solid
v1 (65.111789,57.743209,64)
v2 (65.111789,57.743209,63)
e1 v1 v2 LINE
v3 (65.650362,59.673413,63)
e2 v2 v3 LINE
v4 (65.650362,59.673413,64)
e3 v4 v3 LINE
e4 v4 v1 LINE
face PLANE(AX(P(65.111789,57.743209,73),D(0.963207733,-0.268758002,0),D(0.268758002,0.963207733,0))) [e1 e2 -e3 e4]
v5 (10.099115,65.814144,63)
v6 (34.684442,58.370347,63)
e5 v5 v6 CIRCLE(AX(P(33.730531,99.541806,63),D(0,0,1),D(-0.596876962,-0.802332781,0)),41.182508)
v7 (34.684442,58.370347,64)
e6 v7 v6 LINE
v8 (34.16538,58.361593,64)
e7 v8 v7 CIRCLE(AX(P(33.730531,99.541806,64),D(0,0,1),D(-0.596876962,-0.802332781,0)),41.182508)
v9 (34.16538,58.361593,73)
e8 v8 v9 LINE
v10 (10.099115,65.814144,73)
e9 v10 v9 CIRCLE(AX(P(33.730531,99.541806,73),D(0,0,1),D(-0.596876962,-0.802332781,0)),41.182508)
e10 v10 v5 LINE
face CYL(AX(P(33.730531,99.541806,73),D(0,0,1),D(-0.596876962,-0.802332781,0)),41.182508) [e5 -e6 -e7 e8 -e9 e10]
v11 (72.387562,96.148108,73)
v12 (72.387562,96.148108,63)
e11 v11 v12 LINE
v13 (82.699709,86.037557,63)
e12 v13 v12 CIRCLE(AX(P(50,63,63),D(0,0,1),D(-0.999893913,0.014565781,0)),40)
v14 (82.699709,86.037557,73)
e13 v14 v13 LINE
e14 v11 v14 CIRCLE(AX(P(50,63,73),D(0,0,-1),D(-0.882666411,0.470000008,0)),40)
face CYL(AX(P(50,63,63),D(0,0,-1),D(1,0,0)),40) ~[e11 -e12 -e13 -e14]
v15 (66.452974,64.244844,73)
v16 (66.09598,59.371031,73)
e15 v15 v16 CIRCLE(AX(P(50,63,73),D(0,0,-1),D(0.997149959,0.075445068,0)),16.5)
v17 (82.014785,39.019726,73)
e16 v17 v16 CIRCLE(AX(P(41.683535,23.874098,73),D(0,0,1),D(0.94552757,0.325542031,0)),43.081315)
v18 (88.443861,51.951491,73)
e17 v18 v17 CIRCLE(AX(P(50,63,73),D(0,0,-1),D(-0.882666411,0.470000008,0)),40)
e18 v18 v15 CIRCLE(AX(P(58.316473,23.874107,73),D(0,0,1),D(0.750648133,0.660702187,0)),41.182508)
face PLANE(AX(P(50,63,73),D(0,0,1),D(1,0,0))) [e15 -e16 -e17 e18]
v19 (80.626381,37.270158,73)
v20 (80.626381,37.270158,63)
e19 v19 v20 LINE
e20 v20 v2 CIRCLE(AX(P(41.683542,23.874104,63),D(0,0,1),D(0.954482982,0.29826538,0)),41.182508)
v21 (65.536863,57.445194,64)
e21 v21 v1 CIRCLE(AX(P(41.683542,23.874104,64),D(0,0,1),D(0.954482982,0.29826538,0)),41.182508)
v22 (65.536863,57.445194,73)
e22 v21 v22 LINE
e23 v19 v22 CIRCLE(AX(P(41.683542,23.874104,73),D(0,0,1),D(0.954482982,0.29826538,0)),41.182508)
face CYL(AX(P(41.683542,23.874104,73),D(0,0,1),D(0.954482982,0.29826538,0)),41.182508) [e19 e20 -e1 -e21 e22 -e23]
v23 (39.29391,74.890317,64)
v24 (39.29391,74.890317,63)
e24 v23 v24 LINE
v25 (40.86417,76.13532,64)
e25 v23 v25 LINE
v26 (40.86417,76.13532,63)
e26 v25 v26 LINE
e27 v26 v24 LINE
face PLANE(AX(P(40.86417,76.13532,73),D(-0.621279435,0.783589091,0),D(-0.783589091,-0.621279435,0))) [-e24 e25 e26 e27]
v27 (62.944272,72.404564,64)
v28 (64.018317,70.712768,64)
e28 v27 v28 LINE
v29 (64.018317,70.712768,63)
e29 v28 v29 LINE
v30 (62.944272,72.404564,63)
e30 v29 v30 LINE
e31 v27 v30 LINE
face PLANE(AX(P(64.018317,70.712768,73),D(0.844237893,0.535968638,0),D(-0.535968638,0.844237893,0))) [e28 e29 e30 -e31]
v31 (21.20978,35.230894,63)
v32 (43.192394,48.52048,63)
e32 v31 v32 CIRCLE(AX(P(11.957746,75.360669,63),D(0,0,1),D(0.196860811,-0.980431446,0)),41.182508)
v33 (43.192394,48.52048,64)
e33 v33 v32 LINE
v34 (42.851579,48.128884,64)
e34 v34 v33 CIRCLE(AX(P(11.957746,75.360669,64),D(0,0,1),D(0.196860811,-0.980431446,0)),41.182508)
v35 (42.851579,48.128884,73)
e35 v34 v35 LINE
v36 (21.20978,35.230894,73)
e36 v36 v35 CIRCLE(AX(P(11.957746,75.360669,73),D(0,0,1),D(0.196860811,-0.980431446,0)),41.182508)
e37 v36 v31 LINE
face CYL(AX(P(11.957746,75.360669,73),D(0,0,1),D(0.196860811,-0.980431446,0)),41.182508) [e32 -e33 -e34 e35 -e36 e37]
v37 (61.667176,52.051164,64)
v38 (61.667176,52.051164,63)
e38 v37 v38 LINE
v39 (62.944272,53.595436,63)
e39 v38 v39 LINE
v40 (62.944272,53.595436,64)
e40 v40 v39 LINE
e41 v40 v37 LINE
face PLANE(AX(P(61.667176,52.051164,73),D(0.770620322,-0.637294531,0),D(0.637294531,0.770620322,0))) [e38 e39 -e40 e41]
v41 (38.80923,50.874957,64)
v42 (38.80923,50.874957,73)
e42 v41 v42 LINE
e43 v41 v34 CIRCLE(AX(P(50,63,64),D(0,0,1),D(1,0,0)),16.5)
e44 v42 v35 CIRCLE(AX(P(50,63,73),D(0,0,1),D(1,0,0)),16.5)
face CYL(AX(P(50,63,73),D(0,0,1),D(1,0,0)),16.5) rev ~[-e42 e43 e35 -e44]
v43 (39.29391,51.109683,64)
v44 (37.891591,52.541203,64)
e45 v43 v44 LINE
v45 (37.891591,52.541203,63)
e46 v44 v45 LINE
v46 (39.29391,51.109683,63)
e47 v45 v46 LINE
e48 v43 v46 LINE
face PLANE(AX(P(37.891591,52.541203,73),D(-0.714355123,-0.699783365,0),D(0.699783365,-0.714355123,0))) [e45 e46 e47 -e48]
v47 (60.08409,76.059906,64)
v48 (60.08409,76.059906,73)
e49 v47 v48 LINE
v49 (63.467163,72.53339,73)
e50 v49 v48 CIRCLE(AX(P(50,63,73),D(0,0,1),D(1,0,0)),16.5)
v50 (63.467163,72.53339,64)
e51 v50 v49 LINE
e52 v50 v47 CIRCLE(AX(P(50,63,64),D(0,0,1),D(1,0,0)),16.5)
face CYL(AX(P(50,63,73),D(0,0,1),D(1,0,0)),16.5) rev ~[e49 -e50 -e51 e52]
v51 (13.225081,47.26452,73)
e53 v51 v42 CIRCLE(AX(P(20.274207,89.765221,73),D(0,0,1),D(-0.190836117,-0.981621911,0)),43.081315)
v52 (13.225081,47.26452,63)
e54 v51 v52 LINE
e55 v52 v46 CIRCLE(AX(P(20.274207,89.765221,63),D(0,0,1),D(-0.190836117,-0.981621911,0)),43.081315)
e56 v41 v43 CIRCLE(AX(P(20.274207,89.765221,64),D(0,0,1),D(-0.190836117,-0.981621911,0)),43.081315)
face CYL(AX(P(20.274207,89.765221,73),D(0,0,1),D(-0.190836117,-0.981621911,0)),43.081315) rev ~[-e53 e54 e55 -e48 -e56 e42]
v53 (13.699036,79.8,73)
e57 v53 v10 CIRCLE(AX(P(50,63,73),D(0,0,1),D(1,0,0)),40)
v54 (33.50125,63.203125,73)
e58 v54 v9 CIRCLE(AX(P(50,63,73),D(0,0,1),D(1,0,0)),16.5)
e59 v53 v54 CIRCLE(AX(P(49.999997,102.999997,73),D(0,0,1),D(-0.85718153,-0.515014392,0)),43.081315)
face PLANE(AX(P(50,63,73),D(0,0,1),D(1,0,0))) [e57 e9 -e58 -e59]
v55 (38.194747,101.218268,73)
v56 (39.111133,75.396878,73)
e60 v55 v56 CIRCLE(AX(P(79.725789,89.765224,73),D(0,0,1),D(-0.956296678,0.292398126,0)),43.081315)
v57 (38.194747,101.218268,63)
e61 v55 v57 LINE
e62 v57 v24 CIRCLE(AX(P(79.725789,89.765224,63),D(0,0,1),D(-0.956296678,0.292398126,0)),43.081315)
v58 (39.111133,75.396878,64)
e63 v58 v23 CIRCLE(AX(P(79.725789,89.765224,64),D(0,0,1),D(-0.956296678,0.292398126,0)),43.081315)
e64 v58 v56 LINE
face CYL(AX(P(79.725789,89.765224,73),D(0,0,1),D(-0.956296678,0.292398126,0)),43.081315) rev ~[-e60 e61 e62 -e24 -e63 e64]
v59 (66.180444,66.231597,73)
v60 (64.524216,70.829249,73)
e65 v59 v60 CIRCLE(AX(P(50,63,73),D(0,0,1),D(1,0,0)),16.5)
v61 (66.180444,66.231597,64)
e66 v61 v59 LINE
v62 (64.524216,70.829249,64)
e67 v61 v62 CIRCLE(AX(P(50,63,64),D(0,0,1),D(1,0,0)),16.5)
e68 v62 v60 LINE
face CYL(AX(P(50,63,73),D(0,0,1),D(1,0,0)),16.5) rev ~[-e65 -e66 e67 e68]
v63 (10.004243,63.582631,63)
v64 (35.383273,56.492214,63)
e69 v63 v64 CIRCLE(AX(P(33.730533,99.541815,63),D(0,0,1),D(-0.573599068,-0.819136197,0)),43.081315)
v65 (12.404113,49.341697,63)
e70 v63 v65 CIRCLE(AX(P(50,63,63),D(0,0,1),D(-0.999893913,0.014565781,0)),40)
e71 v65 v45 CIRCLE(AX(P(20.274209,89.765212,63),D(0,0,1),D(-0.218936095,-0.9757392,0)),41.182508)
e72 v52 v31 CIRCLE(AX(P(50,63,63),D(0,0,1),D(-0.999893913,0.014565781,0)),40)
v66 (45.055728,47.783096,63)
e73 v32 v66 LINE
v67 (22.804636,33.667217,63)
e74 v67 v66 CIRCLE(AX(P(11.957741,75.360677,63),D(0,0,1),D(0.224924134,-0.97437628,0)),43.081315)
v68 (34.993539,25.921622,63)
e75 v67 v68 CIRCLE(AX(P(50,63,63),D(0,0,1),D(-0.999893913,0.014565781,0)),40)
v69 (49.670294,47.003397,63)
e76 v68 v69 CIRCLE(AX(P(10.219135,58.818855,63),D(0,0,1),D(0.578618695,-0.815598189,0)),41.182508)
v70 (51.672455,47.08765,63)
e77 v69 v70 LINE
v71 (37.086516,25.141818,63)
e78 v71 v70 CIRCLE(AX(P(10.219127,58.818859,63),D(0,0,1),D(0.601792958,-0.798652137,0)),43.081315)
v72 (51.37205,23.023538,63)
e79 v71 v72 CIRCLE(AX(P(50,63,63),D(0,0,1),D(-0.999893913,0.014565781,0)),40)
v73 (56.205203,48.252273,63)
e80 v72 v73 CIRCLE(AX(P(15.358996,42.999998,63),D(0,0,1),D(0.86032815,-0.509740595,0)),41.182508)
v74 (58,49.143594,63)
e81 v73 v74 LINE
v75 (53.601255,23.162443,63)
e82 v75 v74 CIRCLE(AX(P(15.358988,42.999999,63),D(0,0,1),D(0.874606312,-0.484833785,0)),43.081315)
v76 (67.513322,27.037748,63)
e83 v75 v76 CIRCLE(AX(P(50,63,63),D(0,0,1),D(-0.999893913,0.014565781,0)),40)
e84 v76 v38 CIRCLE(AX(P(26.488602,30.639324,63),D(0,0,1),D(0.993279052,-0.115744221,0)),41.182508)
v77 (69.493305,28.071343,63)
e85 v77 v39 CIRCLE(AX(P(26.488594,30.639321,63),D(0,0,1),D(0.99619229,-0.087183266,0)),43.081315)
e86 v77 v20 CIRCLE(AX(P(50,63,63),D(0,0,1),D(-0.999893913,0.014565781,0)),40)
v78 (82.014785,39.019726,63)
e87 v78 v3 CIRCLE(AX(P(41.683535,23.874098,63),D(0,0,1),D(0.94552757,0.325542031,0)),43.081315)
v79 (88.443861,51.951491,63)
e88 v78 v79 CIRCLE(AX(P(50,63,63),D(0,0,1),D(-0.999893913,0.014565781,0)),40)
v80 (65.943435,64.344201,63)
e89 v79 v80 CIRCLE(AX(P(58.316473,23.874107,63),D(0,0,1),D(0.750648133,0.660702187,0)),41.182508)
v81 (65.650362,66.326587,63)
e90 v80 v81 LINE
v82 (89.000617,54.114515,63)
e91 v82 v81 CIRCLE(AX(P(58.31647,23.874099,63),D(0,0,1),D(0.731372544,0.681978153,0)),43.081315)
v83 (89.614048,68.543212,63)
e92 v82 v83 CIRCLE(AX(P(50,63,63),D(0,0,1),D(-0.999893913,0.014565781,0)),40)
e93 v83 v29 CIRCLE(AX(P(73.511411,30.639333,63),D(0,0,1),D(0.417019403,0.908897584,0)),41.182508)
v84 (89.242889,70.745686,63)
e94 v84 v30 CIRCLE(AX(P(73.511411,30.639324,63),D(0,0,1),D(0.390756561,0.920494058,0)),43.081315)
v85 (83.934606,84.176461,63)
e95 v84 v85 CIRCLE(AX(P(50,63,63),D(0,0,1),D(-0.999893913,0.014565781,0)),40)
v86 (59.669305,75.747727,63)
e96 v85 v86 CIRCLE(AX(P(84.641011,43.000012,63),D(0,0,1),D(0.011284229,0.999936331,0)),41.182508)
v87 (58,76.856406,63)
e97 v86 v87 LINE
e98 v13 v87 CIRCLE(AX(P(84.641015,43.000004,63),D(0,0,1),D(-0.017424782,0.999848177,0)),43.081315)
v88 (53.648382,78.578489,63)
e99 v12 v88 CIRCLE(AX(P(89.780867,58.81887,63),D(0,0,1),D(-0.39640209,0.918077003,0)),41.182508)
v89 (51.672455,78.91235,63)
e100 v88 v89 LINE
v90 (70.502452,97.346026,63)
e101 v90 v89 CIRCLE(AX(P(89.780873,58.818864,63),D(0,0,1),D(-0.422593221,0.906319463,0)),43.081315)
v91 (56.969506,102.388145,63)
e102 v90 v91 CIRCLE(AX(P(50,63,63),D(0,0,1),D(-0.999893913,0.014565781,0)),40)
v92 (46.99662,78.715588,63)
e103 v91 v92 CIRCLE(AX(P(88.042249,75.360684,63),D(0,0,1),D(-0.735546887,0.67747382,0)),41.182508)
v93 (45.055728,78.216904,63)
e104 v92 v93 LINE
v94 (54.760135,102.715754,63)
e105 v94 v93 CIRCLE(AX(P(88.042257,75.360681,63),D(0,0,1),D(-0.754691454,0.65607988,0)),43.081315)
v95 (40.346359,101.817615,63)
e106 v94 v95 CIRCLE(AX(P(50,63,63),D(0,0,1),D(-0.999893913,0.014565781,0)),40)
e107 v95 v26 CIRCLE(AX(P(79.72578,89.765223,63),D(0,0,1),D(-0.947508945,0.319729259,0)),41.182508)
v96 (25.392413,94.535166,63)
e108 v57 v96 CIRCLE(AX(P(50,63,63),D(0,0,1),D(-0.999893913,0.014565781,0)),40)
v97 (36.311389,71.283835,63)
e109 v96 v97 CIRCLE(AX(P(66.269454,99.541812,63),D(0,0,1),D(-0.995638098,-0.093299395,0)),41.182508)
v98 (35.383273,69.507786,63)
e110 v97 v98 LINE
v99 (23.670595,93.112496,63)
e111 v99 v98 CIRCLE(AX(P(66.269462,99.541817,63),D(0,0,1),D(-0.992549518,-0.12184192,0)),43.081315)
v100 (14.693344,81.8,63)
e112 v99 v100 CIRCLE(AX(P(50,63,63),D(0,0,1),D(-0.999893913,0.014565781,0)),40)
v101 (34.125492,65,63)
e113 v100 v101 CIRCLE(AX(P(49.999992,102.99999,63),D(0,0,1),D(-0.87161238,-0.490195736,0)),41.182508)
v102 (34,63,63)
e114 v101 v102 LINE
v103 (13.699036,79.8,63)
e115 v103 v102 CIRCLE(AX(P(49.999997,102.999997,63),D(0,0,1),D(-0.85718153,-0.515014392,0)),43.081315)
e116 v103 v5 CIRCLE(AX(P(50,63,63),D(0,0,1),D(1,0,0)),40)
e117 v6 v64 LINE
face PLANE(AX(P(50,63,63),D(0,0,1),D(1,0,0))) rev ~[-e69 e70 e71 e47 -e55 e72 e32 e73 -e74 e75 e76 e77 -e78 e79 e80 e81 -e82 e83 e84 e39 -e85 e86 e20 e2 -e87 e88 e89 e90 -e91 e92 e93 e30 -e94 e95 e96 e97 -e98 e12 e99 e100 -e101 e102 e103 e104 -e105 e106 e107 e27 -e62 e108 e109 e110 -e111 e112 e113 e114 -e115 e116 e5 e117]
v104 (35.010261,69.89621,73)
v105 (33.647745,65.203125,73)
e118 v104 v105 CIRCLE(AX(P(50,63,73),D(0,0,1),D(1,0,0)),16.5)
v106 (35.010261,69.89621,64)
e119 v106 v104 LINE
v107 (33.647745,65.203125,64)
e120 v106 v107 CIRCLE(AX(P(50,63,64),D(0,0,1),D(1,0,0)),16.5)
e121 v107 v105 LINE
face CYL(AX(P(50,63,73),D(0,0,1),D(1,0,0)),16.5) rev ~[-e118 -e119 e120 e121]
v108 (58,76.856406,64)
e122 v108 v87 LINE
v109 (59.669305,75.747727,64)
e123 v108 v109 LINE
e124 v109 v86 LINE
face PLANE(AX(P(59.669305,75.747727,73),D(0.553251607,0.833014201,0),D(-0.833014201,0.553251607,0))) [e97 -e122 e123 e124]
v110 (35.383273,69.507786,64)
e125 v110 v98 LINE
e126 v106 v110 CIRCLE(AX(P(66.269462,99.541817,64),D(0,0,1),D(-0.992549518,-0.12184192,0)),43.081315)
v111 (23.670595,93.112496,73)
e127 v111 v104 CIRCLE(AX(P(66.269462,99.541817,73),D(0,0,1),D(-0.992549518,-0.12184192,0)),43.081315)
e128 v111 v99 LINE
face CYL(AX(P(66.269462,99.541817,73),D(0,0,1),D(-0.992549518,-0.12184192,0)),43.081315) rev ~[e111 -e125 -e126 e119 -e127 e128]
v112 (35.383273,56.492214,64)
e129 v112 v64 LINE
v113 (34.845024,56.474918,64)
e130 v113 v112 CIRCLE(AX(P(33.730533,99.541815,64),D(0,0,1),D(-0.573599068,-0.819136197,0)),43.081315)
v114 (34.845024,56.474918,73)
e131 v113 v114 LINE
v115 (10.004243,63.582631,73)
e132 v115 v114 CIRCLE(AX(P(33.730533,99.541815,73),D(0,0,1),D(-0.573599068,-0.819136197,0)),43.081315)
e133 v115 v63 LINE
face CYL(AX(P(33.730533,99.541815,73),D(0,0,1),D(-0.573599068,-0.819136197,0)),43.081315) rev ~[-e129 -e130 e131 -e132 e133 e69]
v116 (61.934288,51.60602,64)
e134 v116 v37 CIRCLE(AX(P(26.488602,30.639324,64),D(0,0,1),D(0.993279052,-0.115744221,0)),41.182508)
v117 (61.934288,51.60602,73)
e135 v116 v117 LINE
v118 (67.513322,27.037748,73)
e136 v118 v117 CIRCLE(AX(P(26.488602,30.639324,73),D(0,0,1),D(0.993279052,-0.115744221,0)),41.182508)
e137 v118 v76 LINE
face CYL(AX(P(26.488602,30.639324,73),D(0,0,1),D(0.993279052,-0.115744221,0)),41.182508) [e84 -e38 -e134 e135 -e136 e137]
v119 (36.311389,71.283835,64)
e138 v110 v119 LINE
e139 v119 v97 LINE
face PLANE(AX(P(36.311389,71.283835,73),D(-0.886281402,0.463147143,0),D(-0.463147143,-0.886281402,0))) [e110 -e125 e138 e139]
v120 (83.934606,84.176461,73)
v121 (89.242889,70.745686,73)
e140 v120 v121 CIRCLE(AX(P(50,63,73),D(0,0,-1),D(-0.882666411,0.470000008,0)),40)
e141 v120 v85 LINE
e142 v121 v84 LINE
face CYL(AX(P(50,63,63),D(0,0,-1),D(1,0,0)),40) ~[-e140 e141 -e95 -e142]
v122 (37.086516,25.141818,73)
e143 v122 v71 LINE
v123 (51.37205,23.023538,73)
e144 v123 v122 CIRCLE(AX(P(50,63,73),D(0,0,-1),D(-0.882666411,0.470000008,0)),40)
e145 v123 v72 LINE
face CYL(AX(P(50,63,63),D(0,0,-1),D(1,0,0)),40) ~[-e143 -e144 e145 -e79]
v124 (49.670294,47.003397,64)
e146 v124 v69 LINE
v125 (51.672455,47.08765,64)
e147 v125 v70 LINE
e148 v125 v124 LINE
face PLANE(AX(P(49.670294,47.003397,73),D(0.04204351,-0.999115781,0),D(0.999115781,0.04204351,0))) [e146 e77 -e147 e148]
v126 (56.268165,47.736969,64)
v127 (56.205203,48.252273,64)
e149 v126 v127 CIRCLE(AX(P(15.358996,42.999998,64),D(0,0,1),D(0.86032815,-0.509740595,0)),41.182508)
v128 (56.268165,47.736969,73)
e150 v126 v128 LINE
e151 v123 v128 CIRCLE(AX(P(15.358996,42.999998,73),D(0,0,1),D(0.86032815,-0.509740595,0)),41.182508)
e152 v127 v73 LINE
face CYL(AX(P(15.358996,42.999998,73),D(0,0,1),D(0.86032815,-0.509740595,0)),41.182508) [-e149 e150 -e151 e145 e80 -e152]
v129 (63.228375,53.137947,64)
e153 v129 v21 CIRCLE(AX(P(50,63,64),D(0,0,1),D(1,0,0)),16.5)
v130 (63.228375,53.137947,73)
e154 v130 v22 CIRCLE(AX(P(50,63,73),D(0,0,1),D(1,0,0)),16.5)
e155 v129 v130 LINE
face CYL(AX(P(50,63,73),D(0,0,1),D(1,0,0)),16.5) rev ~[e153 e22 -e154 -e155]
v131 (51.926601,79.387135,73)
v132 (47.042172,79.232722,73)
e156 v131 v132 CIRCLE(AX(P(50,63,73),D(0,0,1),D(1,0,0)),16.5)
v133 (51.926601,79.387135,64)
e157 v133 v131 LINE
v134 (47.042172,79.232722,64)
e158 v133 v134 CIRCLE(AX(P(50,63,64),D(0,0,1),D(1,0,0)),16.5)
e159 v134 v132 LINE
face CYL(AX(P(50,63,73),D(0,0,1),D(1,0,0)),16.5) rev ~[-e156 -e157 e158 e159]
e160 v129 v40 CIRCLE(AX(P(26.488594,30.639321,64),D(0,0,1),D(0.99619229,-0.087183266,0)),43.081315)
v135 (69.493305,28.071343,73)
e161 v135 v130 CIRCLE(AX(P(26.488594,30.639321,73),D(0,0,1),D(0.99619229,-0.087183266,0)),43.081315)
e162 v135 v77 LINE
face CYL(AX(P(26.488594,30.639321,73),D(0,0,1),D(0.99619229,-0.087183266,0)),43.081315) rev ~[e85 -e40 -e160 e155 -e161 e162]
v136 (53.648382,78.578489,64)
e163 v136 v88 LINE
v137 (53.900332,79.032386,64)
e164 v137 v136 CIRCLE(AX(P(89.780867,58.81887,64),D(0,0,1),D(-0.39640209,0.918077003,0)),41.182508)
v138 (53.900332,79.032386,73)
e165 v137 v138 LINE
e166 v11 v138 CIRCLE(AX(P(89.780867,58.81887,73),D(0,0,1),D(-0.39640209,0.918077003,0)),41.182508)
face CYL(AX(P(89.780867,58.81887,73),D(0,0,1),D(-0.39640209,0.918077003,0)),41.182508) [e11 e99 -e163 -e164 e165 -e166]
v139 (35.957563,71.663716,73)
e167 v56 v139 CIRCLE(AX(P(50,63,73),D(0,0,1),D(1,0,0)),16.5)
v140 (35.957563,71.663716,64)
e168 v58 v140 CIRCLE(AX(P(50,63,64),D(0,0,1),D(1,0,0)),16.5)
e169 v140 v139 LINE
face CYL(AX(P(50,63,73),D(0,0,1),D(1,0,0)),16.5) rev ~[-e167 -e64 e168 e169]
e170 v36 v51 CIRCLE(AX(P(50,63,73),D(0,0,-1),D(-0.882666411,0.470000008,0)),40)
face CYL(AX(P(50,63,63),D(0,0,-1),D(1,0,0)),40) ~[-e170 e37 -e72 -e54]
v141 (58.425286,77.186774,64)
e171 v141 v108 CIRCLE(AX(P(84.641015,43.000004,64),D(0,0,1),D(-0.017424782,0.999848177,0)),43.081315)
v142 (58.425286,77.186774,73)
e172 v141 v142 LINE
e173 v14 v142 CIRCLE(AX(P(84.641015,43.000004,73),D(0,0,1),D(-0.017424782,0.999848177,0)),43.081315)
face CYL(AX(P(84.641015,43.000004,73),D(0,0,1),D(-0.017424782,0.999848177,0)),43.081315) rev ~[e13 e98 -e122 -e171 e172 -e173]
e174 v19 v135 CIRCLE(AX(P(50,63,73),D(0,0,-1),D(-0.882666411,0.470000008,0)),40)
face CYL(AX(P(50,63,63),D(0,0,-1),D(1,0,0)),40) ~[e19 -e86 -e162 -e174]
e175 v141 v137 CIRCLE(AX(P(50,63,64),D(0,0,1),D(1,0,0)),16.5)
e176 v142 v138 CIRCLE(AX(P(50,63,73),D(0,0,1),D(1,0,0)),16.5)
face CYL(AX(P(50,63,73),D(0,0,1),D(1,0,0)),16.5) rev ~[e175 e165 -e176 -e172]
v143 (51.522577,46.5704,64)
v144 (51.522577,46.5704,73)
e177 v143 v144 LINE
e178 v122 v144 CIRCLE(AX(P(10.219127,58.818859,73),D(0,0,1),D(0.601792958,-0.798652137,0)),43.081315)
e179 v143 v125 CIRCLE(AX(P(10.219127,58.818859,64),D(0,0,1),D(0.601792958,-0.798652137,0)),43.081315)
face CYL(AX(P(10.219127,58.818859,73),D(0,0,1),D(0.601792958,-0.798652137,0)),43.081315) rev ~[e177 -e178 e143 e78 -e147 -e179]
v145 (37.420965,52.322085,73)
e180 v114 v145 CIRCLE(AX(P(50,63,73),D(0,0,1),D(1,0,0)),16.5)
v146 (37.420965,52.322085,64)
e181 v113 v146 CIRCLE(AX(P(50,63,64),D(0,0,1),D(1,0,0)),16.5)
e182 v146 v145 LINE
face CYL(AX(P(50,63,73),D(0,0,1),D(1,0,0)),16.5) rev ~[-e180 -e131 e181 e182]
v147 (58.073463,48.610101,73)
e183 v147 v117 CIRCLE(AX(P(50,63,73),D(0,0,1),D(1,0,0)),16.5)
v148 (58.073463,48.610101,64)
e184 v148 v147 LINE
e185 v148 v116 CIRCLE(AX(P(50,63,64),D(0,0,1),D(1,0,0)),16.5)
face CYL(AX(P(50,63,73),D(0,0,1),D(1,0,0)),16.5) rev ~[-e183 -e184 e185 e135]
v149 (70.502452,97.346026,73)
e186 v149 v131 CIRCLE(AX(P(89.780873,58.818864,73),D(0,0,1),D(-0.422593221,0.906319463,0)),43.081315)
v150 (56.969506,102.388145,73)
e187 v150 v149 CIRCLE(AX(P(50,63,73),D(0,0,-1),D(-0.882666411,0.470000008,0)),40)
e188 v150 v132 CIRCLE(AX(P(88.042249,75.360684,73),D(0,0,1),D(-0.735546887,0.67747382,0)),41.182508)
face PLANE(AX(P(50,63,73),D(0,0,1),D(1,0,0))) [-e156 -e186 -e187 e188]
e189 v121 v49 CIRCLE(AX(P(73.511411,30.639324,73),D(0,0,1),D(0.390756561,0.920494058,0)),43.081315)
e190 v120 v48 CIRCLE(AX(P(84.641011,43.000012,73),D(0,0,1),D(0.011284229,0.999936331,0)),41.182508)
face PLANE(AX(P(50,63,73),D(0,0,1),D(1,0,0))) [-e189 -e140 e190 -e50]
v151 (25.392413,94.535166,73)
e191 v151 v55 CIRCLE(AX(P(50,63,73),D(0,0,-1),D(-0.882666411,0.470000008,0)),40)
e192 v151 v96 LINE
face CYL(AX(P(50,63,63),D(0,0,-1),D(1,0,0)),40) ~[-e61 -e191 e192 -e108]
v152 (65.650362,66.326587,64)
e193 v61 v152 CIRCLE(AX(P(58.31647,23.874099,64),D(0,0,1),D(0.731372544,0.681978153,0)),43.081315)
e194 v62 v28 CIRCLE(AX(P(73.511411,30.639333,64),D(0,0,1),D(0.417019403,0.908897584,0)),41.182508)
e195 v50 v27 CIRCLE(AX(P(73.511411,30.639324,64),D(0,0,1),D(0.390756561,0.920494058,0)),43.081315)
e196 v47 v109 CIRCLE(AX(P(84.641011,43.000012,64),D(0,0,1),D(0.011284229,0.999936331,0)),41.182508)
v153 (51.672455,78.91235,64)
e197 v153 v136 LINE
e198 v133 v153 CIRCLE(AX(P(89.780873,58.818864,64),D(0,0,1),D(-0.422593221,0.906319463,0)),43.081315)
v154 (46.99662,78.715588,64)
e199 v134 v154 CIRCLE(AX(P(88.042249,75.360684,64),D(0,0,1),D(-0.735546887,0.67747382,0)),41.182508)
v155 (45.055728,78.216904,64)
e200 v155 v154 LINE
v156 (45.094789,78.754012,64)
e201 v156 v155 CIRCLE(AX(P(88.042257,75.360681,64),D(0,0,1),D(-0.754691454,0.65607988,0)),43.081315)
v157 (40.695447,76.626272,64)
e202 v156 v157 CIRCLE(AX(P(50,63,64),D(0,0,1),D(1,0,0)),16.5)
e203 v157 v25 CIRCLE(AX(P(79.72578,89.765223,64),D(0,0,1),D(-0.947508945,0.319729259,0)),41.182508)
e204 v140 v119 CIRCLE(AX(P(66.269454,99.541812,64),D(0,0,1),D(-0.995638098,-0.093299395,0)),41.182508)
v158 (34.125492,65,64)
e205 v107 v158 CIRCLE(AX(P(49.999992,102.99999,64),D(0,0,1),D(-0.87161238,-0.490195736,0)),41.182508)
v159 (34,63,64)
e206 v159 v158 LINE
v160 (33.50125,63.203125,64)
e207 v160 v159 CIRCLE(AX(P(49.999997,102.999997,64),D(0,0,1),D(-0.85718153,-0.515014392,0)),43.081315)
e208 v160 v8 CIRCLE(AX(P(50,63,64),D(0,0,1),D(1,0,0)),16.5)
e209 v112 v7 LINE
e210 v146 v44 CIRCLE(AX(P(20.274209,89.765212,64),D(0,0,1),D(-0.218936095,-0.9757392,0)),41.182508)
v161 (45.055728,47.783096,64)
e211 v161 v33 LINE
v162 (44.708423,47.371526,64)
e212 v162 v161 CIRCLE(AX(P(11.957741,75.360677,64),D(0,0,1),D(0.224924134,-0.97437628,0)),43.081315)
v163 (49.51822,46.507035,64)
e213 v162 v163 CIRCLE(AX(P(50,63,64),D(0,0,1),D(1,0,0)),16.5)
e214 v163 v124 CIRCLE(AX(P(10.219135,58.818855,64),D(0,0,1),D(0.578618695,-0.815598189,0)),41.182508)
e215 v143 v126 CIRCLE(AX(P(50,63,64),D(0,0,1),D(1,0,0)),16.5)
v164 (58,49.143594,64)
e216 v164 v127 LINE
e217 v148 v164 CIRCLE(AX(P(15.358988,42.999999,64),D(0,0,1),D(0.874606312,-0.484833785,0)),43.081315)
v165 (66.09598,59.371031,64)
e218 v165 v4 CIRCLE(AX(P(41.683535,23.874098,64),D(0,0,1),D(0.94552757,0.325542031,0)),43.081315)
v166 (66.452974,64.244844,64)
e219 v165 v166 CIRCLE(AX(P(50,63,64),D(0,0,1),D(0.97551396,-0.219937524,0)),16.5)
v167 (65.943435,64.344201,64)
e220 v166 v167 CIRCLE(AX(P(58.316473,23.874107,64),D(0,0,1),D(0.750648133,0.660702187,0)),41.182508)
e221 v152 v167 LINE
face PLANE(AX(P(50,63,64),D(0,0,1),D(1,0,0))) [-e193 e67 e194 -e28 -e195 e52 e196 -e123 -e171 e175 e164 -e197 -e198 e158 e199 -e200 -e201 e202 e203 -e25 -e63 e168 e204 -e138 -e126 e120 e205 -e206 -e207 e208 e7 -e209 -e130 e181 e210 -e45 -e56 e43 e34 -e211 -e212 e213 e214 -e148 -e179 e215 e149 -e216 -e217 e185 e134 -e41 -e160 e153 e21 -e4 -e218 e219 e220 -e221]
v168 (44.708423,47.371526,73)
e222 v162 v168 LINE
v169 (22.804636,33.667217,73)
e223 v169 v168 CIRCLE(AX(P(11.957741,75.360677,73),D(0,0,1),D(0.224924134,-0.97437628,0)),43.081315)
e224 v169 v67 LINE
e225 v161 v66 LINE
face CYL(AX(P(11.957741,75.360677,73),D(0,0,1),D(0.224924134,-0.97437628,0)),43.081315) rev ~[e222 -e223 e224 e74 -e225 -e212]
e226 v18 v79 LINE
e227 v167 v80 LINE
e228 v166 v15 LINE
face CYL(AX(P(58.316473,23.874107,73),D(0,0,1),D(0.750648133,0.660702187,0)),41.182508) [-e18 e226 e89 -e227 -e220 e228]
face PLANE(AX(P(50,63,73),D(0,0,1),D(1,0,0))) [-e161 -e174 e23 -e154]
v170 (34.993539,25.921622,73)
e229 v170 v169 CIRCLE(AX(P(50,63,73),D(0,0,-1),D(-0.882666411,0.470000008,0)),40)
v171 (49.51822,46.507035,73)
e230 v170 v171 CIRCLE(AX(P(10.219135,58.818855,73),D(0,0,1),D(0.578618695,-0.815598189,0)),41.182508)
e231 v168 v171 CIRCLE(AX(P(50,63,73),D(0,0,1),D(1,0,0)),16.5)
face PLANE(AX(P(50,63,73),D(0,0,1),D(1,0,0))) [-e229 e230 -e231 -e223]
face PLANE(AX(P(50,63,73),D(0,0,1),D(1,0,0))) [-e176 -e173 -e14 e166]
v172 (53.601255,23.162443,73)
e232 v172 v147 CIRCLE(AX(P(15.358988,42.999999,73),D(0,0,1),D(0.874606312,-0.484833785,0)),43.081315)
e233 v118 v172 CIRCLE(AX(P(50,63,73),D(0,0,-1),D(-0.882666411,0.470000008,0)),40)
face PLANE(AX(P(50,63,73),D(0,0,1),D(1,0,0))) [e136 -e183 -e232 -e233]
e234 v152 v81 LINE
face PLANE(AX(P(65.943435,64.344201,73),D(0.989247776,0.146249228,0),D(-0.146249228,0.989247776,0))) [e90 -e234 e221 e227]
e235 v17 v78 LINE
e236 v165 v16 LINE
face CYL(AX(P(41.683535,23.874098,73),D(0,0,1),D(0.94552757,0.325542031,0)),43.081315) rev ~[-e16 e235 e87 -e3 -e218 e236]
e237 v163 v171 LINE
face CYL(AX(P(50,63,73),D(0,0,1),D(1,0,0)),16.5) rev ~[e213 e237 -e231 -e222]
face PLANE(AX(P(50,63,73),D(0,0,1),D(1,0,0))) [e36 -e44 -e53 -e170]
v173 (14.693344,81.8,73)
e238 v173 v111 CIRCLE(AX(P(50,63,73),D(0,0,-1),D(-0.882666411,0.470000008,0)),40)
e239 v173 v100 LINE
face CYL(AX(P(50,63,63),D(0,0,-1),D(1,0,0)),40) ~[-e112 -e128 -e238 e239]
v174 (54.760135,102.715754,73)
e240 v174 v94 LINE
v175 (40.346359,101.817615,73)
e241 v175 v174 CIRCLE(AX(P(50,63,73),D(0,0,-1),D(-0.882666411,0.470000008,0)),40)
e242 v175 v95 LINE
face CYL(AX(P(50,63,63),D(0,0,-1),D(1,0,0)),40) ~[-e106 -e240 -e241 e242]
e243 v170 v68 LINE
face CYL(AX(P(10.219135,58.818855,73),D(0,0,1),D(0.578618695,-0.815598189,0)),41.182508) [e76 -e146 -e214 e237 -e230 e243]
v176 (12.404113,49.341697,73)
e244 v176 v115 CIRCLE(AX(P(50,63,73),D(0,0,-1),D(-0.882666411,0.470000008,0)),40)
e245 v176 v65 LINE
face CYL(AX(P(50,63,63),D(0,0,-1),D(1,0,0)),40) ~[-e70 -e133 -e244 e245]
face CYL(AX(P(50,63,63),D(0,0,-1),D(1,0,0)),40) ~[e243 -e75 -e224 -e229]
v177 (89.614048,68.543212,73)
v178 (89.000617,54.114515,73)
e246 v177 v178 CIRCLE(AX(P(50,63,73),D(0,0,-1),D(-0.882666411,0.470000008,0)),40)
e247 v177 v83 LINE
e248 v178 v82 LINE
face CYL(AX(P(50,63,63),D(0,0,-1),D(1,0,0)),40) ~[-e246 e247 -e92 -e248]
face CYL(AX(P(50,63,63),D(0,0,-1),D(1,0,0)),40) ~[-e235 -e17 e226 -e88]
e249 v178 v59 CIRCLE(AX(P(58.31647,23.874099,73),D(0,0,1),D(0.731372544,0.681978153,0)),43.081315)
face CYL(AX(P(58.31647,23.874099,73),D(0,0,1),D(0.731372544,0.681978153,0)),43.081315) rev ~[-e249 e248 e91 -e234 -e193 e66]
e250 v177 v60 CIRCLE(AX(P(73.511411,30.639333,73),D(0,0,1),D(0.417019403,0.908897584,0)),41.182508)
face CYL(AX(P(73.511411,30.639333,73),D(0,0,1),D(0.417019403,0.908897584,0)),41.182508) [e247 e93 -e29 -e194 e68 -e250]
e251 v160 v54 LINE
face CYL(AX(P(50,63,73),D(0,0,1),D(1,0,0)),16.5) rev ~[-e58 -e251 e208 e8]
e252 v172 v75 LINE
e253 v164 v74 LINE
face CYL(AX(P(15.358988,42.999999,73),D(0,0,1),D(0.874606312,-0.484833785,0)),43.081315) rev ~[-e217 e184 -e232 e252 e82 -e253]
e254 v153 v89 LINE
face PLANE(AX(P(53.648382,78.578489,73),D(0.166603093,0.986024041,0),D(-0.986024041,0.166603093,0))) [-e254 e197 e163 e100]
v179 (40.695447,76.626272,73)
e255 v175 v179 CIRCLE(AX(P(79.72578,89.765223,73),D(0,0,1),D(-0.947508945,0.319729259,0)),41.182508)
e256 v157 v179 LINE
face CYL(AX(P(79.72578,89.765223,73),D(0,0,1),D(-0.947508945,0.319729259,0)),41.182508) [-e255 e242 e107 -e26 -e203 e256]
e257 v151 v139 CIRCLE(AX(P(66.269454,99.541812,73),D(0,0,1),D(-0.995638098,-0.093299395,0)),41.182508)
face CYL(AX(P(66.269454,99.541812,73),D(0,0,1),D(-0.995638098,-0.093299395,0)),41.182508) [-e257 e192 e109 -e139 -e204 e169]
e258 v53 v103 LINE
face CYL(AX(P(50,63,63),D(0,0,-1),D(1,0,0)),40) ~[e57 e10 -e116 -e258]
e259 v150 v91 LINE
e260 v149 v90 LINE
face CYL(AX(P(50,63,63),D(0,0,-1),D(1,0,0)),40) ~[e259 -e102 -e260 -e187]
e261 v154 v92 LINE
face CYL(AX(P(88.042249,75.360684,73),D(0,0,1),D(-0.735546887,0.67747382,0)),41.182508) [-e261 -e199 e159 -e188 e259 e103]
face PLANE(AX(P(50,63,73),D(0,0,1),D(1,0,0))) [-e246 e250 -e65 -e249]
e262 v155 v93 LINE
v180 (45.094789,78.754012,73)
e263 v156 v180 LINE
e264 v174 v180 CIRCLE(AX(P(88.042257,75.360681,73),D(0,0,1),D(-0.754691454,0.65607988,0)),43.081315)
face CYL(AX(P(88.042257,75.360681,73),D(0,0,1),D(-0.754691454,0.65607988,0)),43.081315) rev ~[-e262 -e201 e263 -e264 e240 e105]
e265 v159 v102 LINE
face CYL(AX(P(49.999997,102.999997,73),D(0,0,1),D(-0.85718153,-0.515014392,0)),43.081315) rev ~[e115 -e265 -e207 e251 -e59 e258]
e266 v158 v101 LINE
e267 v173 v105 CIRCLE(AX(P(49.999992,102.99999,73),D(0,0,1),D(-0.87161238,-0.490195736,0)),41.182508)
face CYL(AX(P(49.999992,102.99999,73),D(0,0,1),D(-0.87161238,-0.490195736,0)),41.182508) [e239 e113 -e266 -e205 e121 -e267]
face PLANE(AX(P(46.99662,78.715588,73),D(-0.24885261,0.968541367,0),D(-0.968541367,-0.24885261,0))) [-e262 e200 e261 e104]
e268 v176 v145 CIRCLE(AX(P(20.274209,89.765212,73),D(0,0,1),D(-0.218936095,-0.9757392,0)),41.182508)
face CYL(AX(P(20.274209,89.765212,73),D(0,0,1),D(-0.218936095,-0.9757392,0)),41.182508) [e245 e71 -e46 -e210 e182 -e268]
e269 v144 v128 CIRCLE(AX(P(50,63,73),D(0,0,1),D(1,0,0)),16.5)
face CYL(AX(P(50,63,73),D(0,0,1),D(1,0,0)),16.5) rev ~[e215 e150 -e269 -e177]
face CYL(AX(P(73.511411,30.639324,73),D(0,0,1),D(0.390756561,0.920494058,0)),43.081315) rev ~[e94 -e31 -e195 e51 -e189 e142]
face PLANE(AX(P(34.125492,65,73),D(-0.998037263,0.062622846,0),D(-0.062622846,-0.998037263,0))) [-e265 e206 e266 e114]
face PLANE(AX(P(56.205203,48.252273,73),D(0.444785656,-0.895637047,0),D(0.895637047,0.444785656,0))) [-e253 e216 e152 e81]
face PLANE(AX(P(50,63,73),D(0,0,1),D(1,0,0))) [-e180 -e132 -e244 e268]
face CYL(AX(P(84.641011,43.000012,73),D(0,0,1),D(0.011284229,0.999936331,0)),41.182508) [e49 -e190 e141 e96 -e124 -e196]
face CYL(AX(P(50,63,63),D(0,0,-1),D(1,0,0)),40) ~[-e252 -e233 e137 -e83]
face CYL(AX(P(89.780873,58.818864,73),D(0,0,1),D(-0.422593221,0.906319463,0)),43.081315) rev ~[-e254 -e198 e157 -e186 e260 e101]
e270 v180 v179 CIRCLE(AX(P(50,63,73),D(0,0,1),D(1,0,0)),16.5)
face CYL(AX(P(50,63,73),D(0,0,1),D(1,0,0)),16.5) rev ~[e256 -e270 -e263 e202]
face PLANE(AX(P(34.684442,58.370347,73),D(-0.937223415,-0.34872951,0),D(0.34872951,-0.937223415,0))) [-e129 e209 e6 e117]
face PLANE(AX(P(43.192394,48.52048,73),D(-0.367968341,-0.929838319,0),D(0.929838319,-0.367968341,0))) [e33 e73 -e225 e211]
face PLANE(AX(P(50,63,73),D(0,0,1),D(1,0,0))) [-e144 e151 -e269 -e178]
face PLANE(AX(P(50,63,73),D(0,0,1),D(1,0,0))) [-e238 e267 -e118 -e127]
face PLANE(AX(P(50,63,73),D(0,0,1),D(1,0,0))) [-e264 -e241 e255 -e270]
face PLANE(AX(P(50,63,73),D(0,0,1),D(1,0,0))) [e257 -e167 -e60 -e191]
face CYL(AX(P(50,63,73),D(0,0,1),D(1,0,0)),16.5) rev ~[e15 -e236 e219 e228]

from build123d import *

# Parameters (mm, degrees)
SKETCH_R           = 40
PAD_DEPTH          = 10
POCKET_DEPTH       = 237.157334
POLARPATTERN_COUNT = 15
SKETCH002_R        = 16.5
POCKET001_DEPTH    = 9


with BuildPart() as part:
    # Sketch → Pad (new body)
    with BuildSketch(Plane.XY):
        Circle(SKETCH_R)
    extrude(amount=PAD_DEPTH)

    # Sketch001 (on Face1 of ShapeBinder) → Pocket (cut, through all)
    with BuildSketch(Plane.XY.offset(10)):
        with BuildLine():
            ThreePointArc((-36.92851, 17.8125), (-27.922716, 7.192654), (-16, 0))
            Line((-15.874508, 2), (-16, 0))
            ThreePointArc((-35.895192, 19.8125), (-27.374199, 9.232269), (-15.874508, 2))
            Line((-35.895192, 19.8125), (-36.92851, 17.8125))
        make_face()
    pocket = extrude(amount=-POCKET_DEPTH, mode=Mode.SUBTRACT)

    # PolarPattern: Pocket ×15 about axis
    polarpattern_axis = Axis((0, 0, 0), (0, 0, 1))
    for i in range(1, POLARPATTERN_COUNT):
        add(pocket.rotate(polarpattern_axis, i * 360 / POLARPATTERN_COUNT), mode=Mode.SUBTRACT)

    # Sketch002 (on Face4 of PolarPattern) → Pocket001 (cut)
    with BuildSketch(Plane.XY.offset(10)):
        Circle(SKETCH002_R)
    extrude(amount=-POCKET001_DEPTH, mode=Mode.SUBTRACT)


with BuildPart() as part_1:
    # Body placement: moved
    add(part.part.moved(Location((50, 63, 63))))


solid = part_1.part
